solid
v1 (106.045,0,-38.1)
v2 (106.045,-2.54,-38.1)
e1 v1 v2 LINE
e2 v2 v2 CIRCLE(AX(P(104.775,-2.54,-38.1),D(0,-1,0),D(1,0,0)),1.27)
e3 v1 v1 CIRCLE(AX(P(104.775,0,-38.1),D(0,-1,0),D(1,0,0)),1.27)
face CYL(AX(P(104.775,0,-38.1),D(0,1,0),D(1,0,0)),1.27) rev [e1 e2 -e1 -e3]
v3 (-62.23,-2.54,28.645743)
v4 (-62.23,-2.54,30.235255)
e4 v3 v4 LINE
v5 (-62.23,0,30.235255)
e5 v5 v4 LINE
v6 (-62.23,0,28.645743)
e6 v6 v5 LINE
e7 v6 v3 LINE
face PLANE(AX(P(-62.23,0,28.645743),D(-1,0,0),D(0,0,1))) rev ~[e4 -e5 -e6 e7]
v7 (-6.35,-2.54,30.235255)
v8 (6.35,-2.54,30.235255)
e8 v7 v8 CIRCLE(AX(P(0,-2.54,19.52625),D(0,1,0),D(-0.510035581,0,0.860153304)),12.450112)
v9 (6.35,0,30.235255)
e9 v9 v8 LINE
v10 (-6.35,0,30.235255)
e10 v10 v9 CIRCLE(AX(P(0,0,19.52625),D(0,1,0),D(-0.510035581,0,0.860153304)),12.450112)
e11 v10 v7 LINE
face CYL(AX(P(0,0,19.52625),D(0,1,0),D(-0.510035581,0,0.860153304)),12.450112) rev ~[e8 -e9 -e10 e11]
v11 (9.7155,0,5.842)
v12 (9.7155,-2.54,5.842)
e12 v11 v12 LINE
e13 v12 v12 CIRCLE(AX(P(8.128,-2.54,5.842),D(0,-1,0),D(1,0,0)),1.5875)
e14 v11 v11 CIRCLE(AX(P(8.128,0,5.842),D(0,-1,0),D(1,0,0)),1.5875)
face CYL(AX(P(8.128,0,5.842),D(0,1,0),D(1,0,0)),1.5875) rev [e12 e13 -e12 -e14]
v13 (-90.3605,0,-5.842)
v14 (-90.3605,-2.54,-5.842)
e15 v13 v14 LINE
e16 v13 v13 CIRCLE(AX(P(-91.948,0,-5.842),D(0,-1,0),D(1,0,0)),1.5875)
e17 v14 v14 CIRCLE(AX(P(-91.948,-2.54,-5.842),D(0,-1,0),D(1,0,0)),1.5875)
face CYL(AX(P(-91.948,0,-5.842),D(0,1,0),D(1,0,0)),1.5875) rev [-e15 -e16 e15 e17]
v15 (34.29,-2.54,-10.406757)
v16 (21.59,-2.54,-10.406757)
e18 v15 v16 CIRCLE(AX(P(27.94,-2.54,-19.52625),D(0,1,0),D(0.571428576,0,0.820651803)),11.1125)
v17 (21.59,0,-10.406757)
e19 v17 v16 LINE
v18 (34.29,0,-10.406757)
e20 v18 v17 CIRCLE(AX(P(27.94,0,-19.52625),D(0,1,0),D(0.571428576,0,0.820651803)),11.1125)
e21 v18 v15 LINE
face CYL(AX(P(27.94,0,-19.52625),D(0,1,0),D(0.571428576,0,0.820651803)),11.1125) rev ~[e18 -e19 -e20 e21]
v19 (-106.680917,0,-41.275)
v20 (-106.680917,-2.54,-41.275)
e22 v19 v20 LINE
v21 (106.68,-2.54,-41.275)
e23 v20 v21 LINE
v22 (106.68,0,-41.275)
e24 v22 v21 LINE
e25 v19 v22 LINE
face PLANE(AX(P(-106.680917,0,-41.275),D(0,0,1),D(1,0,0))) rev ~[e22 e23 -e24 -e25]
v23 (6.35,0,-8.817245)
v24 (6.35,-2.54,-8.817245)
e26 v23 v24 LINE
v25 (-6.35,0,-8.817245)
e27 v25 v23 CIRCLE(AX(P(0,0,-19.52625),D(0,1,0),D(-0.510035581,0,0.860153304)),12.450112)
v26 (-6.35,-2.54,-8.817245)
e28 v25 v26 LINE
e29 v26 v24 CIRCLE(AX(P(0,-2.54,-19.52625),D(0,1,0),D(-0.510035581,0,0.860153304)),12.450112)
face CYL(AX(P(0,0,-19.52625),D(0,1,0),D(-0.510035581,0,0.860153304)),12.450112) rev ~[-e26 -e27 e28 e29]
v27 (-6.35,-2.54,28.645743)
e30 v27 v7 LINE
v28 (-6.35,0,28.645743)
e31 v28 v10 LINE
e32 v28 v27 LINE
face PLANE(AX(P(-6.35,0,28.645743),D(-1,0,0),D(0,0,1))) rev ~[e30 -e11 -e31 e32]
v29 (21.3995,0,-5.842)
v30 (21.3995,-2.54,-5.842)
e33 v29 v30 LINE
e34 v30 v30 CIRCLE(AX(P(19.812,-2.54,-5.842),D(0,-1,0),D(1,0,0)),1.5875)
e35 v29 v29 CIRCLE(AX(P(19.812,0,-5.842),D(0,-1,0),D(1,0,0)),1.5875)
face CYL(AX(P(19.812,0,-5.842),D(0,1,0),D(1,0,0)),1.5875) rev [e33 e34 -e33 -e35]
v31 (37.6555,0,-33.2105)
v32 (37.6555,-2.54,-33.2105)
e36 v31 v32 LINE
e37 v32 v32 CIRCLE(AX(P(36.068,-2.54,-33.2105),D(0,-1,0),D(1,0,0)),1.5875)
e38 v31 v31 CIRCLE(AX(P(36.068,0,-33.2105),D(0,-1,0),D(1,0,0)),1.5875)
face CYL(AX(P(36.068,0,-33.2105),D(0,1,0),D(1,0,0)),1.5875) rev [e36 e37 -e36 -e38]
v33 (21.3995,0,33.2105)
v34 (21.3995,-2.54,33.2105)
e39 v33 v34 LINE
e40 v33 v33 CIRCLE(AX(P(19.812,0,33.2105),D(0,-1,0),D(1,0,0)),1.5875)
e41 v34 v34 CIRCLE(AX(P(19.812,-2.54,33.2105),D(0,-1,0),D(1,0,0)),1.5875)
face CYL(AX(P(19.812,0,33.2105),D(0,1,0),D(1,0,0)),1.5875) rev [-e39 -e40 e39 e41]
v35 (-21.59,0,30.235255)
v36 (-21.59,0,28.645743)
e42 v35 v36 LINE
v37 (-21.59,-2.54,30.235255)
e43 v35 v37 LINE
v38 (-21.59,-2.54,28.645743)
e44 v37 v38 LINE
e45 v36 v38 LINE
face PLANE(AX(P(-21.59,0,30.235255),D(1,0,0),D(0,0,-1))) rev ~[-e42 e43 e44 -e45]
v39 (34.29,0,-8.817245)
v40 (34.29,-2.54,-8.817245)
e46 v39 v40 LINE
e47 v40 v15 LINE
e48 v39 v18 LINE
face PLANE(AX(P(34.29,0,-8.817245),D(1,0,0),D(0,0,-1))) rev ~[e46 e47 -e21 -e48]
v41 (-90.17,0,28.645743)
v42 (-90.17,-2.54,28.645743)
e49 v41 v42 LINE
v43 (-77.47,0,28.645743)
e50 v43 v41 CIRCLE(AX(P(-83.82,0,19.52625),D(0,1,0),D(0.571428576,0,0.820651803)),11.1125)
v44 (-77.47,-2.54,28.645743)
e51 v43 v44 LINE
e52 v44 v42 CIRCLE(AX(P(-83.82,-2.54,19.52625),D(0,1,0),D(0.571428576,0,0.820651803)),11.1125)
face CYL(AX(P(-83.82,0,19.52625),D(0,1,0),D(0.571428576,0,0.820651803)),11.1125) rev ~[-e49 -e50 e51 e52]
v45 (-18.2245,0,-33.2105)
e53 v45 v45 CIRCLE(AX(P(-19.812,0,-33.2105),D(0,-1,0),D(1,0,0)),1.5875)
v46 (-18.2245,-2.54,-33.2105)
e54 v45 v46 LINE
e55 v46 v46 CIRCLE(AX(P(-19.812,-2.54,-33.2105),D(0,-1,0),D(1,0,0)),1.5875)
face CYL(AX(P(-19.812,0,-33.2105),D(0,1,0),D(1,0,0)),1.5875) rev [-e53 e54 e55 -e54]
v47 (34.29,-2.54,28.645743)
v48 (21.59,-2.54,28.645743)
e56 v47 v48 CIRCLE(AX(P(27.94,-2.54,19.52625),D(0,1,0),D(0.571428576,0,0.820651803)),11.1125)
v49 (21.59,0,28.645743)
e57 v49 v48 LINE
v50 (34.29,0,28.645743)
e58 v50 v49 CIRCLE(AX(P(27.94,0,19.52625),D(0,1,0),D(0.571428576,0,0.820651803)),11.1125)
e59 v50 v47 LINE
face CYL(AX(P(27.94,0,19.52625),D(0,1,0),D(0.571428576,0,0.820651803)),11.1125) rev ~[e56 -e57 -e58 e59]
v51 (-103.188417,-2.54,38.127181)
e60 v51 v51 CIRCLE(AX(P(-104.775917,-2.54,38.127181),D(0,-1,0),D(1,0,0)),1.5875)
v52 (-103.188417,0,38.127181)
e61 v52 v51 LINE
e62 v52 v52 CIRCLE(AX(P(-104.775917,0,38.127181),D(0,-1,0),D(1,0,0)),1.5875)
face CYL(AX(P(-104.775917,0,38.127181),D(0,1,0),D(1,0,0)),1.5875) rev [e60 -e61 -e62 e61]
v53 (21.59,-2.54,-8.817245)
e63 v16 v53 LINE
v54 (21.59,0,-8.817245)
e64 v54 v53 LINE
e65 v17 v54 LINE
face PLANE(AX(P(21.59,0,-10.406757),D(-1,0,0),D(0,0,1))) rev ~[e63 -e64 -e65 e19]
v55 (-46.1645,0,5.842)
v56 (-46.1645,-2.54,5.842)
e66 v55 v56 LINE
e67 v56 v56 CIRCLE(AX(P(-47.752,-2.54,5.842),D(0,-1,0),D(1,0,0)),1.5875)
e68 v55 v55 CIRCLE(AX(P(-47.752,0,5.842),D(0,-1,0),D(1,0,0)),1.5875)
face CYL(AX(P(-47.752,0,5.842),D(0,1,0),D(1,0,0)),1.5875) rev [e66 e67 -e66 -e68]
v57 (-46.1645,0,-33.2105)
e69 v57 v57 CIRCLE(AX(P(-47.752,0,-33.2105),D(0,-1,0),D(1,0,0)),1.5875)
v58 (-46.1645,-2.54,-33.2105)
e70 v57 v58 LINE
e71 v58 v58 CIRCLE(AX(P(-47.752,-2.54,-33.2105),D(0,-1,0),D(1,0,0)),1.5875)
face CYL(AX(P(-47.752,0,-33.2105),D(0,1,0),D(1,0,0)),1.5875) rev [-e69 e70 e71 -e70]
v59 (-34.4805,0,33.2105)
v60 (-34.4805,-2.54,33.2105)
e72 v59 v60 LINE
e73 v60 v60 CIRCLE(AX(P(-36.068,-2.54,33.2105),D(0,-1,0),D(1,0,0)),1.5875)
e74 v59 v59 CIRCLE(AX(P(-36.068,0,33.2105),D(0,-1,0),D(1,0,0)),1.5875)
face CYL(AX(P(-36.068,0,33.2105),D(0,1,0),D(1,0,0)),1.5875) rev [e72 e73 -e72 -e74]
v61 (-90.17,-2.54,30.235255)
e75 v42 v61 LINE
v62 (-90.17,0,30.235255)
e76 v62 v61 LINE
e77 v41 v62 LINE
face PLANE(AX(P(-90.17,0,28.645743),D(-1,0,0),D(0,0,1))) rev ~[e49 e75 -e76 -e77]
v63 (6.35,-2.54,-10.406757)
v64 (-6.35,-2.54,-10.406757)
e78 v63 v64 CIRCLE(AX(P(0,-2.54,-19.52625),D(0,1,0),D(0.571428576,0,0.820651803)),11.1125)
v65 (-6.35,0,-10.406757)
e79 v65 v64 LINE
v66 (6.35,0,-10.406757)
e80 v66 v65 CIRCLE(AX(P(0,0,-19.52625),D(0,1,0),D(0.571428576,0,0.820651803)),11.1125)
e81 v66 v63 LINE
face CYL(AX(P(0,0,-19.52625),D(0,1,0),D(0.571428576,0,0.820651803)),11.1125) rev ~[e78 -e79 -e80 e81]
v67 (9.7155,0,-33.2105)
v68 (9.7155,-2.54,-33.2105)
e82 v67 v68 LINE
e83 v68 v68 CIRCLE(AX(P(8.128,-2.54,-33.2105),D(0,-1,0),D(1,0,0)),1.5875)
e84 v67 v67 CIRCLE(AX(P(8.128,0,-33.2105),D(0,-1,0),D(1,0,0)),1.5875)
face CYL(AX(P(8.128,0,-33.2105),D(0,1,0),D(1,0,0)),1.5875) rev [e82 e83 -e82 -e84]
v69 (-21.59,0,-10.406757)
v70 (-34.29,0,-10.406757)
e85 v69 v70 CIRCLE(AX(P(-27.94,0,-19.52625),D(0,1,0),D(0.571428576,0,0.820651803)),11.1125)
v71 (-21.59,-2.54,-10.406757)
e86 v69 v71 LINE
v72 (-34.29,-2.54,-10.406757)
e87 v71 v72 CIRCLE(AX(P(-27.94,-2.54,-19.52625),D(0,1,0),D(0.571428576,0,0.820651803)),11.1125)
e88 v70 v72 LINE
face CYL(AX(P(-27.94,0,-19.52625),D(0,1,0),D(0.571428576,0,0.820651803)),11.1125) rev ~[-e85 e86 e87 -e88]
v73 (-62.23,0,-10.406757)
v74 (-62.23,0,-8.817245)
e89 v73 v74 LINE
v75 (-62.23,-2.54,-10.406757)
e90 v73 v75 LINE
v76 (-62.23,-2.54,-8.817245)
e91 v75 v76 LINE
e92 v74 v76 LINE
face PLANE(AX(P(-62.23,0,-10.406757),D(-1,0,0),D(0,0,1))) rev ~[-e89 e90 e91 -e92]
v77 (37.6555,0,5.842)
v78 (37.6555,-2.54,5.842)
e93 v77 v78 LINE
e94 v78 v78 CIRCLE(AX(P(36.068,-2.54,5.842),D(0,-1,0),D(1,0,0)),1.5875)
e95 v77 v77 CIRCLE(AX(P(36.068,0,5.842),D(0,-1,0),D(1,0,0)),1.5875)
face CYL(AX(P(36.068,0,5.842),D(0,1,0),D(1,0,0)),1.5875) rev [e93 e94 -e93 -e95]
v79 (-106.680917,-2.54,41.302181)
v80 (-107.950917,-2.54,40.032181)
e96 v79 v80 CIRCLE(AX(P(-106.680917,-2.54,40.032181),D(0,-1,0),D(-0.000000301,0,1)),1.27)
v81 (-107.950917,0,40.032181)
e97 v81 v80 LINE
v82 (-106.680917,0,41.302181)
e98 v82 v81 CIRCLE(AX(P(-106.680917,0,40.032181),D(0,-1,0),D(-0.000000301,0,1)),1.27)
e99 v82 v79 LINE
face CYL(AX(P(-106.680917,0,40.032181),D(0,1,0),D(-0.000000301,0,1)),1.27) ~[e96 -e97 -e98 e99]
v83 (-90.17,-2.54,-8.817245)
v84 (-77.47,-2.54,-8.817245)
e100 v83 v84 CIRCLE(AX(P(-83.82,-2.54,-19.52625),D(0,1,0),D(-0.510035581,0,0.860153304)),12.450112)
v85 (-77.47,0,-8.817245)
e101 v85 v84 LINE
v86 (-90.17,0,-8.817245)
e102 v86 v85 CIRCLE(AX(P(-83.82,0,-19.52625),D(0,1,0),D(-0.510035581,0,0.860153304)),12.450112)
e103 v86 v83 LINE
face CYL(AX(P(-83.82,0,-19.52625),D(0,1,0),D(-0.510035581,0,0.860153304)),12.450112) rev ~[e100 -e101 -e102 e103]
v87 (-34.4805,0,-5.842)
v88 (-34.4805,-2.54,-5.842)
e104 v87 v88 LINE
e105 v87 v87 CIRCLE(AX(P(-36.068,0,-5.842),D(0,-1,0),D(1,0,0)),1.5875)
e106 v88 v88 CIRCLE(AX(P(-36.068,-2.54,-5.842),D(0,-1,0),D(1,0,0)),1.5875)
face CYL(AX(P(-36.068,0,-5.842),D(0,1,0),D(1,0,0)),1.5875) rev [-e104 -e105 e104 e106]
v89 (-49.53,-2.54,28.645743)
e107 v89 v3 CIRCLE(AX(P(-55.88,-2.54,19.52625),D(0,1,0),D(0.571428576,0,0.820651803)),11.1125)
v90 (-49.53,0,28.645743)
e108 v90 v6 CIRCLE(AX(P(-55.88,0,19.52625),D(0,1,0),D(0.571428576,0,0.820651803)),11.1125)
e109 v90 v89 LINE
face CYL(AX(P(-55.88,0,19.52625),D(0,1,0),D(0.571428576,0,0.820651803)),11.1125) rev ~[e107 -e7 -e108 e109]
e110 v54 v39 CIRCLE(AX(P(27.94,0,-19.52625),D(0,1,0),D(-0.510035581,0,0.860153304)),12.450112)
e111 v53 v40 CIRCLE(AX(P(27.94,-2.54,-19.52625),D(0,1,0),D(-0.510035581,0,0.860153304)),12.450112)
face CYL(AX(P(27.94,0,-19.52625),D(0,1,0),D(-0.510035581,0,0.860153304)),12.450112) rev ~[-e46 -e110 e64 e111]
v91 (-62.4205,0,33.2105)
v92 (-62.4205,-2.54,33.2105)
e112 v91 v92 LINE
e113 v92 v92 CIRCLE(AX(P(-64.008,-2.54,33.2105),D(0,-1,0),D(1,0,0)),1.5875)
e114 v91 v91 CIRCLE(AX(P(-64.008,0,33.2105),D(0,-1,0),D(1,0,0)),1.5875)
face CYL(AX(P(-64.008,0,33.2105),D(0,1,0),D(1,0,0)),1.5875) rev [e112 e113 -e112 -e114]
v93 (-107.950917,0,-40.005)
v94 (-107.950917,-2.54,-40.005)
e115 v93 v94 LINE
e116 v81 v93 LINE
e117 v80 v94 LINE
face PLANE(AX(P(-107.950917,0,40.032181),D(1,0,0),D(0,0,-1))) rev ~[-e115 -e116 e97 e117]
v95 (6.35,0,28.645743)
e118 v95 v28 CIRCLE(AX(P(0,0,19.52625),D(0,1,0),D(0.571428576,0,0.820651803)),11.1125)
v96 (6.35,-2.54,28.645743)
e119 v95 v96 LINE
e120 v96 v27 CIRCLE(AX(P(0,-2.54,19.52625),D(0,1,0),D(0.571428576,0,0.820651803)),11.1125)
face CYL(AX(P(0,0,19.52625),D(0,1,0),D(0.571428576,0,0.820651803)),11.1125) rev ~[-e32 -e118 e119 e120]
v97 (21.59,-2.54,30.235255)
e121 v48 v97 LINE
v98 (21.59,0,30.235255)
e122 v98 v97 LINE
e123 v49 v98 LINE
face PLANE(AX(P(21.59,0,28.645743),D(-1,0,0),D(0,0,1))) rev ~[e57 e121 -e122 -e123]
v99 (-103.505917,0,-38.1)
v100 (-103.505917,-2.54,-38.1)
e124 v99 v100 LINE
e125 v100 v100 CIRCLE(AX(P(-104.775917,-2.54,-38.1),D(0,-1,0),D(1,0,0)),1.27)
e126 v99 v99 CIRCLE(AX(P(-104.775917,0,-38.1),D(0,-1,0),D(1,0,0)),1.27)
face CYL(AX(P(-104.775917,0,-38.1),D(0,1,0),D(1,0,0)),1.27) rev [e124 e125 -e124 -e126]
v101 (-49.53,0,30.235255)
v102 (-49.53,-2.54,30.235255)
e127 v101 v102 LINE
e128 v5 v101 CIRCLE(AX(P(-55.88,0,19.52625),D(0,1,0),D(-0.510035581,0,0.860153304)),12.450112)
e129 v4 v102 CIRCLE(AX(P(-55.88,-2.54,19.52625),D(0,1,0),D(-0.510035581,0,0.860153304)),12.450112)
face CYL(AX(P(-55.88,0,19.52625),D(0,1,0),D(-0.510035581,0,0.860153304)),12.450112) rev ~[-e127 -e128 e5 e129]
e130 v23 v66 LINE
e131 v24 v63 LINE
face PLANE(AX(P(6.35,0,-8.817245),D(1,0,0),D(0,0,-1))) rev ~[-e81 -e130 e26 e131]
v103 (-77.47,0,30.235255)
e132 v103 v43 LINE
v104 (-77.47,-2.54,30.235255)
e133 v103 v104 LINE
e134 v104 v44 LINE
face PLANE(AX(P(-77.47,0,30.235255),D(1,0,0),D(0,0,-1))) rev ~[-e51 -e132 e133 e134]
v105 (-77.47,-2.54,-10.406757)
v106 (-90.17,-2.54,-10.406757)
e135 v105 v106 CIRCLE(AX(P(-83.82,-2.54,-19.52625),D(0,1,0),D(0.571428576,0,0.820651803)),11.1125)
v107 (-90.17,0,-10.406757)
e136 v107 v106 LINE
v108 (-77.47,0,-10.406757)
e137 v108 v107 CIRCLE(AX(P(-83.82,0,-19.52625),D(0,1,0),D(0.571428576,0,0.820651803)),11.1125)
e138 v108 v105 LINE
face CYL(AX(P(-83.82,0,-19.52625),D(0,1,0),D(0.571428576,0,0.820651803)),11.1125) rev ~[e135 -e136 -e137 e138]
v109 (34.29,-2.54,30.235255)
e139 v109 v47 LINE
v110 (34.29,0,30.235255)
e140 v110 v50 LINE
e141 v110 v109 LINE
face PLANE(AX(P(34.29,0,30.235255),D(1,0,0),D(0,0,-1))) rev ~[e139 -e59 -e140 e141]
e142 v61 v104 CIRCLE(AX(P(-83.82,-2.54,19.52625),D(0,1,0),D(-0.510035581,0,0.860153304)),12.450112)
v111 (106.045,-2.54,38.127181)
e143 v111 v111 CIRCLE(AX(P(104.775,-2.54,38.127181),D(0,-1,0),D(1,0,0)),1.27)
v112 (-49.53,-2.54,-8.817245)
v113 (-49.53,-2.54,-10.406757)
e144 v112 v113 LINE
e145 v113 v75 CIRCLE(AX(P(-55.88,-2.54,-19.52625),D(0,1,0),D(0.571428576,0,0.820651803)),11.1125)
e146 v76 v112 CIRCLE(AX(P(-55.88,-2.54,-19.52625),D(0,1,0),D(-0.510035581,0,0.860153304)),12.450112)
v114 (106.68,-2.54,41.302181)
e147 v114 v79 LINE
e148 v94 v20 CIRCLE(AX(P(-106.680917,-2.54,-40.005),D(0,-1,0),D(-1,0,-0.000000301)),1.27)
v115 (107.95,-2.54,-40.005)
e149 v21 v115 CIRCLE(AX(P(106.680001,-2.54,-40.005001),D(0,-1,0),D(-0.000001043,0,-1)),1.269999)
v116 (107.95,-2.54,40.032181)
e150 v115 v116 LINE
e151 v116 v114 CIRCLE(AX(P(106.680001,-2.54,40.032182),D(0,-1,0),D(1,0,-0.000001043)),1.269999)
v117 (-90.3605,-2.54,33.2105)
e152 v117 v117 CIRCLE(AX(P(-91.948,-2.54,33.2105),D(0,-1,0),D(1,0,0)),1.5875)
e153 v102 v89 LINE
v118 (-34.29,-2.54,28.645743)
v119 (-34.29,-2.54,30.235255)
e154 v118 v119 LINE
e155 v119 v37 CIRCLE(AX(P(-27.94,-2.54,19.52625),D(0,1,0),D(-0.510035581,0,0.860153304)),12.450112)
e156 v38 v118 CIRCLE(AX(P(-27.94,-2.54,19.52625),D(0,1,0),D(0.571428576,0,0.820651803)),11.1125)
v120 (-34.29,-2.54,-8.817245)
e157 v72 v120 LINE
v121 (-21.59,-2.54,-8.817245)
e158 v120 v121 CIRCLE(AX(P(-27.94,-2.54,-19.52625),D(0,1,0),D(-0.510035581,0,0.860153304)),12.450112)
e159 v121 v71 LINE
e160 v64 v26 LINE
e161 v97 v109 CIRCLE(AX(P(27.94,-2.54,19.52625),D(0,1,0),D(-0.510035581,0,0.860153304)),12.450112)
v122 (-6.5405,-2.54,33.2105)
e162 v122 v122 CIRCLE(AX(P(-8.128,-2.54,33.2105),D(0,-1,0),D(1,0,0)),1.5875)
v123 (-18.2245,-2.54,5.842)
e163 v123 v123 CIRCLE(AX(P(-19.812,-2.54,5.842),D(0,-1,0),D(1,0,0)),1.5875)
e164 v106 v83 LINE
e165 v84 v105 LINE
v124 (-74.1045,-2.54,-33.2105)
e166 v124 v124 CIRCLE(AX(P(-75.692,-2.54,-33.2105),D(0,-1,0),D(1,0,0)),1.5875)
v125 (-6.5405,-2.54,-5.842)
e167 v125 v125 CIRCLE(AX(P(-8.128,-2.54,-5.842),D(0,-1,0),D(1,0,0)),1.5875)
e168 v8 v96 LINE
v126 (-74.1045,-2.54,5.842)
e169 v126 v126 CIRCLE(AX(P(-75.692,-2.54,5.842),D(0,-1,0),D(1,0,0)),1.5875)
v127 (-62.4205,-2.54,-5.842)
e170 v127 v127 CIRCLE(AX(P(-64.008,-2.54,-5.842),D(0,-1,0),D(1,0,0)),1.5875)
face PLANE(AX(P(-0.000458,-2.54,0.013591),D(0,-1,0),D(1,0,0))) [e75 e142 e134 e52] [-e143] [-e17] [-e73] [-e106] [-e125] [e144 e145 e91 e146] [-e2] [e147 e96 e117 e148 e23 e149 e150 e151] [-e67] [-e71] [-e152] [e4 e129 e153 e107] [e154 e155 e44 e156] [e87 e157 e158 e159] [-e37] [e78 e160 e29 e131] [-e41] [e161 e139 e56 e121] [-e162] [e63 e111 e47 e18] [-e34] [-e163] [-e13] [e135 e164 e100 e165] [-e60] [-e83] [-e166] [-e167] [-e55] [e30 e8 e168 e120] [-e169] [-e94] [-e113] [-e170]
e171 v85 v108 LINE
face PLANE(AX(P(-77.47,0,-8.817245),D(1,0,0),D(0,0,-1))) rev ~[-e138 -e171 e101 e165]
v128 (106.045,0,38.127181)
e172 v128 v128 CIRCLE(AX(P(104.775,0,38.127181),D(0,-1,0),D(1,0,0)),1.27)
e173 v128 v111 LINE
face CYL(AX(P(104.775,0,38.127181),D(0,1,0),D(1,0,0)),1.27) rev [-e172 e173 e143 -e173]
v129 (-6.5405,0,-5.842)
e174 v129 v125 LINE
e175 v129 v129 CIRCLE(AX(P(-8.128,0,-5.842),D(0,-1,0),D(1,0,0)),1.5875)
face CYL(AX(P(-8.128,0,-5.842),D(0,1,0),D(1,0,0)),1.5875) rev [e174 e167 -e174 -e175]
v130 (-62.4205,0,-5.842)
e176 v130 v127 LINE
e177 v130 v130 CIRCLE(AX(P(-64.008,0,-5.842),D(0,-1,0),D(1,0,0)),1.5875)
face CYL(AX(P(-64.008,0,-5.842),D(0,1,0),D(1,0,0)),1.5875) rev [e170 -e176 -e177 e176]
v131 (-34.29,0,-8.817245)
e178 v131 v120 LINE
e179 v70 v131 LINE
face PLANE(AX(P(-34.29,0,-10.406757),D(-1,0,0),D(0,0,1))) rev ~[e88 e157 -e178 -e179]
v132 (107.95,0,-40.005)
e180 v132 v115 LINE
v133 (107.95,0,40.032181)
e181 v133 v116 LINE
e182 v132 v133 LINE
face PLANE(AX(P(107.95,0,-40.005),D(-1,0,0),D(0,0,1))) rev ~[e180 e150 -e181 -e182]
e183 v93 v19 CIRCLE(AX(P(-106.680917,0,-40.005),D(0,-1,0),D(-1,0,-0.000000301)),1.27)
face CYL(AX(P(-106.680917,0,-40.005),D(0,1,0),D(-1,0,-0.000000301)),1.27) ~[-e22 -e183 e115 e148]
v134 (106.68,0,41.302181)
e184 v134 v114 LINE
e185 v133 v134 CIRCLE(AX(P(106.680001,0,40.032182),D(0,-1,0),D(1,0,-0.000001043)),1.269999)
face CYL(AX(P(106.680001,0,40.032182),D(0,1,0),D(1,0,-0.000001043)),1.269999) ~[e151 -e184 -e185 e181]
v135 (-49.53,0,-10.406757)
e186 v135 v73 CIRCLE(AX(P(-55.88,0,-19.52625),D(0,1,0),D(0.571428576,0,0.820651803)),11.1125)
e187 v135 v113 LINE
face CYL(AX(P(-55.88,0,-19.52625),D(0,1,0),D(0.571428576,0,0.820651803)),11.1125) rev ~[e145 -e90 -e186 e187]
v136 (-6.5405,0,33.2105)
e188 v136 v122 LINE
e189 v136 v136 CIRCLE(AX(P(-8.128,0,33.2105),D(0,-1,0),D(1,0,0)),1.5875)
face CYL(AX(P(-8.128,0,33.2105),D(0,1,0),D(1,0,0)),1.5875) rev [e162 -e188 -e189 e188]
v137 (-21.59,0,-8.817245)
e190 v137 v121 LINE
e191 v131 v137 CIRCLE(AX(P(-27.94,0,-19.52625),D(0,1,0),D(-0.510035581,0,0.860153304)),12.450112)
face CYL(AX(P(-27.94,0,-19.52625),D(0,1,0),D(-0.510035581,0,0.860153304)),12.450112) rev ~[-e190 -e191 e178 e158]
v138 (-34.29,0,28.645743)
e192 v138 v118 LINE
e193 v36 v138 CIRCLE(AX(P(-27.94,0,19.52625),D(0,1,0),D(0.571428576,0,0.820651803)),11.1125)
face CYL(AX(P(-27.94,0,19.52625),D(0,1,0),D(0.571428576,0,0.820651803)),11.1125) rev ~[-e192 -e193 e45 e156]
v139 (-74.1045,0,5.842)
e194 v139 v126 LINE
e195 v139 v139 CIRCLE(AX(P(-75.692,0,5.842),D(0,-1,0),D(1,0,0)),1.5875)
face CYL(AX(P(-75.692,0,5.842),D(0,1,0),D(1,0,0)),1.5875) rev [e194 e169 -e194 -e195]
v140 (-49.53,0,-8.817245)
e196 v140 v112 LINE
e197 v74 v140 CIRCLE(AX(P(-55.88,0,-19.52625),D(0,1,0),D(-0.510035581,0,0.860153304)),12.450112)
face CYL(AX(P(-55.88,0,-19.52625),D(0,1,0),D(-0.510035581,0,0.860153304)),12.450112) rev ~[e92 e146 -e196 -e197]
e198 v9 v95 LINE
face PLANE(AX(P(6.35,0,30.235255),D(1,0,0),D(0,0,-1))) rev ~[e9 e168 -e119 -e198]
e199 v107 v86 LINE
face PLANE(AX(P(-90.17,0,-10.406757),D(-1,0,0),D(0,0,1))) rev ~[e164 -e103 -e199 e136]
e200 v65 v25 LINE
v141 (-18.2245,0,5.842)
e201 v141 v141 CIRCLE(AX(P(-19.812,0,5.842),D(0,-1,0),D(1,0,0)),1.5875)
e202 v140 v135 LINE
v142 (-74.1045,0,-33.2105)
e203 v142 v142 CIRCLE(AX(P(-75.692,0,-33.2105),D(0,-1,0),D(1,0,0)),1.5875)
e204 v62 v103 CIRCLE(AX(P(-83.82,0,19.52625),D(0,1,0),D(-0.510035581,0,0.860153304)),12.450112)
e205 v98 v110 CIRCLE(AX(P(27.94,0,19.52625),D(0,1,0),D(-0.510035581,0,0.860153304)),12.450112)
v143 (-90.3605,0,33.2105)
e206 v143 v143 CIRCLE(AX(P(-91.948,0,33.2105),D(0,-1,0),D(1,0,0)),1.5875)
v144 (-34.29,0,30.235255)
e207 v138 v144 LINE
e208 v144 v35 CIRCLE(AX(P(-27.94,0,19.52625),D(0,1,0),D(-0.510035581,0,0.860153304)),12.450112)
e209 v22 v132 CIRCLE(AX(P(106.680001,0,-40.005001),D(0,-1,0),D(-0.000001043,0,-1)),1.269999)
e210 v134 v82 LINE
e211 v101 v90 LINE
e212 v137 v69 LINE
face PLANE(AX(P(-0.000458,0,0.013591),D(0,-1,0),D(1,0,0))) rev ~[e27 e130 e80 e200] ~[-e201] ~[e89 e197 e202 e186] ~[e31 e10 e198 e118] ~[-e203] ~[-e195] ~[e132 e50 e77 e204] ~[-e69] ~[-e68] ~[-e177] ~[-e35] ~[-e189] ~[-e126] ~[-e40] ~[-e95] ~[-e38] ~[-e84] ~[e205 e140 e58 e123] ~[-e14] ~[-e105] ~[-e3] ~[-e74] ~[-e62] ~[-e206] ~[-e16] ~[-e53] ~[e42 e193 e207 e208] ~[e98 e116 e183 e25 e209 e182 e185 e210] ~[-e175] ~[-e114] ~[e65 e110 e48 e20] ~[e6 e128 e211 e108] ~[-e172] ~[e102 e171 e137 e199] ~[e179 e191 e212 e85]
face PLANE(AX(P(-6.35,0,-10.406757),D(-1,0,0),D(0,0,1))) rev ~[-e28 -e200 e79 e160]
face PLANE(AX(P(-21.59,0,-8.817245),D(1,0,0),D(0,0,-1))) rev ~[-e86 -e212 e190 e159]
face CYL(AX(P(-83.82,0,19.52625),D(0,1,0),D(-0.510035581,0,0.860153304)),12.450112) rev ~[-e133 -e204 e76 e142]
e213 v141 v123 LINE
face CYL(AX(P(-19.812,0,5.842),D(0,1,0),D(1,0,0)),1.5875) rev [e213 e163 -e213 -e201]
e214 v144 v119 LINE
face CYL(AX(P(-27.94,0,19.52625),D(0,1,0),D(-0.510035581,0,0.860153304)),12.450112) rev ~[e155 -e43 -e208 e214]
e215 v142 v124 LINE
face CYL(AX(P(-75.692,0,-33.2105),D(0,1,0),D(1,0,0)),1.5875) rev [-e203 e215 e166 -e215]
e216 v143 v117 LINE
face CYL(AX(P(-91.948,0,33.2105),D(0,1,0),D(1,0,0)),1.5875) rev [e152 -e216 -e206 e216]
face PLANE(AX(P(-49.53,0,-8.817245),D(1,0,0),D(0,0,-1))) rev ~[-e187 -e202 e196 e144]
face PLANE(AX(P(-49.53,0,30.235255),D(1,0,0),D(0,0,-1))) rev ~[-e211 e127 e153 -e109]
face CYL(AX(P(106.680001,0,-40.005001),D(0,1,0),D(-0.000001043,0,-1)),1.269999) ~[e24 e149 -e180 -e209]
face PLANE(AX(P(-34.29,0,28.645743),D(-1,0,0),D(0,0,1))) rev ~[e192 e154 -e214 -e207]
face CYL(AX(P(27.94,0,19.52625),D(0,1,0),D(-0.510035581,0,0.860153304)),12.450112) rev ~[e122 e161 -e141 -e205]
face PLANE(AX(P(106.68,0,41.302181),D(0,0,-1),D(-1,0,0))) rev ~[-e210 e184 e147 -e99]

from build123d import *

# Parameters (mm, degrees)
F0_R     = 1.27
F0_R_2   = 1.5875
F1_DEPTH = 2.54


with BuildPart() as f1:
    # F0 (on Front) → F1 (new body)
    with BuildSketch(Plane.XZ):
        with BuildLine():
            Line((106.68, 41.302181), (-106.680917, 41.302181))
            ThreePointArc((-106.680917, 41.302181), (-107.578942, 40.930207), (-107.950917, 40.032181))
            Line((-107.950917, 40.032181), (-107.950917, -40.005))
            ThreePointArc((-107.950917, -40.005), (-107.578942, -40.903026), (-106.680917, -41.275))
            Line((-106.680917, -41.275), (106.68, -41.275))
            ThreePointArc((106.68, -41.275), (107.578026, -40.903026), (107.95, -40.005))
            Line((107.95, -40.005), (107.95, 40.032181))
            ThreePointArc((107.95, 40.032181), (107.578026, 40.930207), (106.68, 41.302181))
        make_face()
        with Locations((-104.775917, -38.1)):
            Circle(F0_R, mode=Mode.SUBTRACT)
        with Locations((-75.692, -33.2105)):
            Circle(F0_R_2, mode=Mode.SUBTRACT)
        with Locations((-47.752, -33.2105)):
            Circle(F0_R_2, mode=Mode.SUBTRACT)
        with Locations((-19.812, -33.2105)):
            Circle(F0_R_2, mode=Mode.SUBTRACT)
        with BuildLine():
            ThreePointArc((-77.47, -10.406757), (-83.82, -30.63875), (-90.17, -10.406757))
            Line((-90.17, -10.406757), (-90.17, -8.817245))
            ThreePointArc((-90.17, -8.817245), (-83.82, -7.076138), (-77.47, -8.817245))
            Line((-77.47, -8.817245), (-77.47, -10.406757))
        make_face(mode=Mode.SUBTRACT)
        with BuildLine():
            ThreePointArc((-49.53, -10.406757), (-55.88, -30.63875), (-62.23, -10.406757))
            Line((-62.23, -10.406757), (-62.23, -8.817245))
            ThreePointArc((-62.23, -8.817245), (-55.88, -7.076138), (-49.53, -8.817245))
            Line((-49.53, -8.817245), (-49.53, -10.406757))
        make_face(mode=Mode.SUBTRACT)
        with Locations((-91.948, -5.842)):
            Circle(F0_R_2, mode=Mode.SUBTRACT)
        with Locations((-64.008, -5.842)):
            Circle(F0_R_2, mode=Mode.SUBTRACT)
        with BuildLine():
            ThreePointArc((-21.59, -10.406757), (-27.94, -30.63875), (-34.29, -10.406757))
            Line((-34.29, -10.406757), (-34.29, -8.817245))
            ThreePointArc((-34.29, -8.817245), (-27.94, -7.076138), (-21.59, -8.817245))
            Line((-21.59, -8.817245), (-21.59, -10.406757))
        make_face(mode=Mode.SUBTRACT)
        with Locations((-36.068, -5.842)):
            Circle(F0_R_2, mode=Mode.SUBTRACT)
        with Locations((-8.128, -5.842)):
            Circle(F0_R_2, mode=Mode.SUBTRACT)
        with Locations((8.128, -33.2105)):
            Circle(F0_R_2, mode=Mode.SUBTRACT)
        with Locations((36.068, -33.2105)):
            Circle(F0_R_2, mode=Mode.SUBTRACT)
        with Locations((104.775, -38.1)):
            Circle(F0_R, mode=Mode.SUBTRACT)
        with BuildLine():
            ThreePointArc((6.35, -10.406757), (0, -30.63875), (-6.35, -10.406757))
            Line((-6.35, -10.406757), (-6.35, -8.817245))
            ThreePointArc((-6.35, -8.817245), (0, -7.076138), (6.35, -8.817245))
            Line((6.35, -8.817245), (6.35, -10.406757))
        make_face(mode=Mode.SUBTRACT)
        with BuildLine():
            ThreePointArc((34.29, -10.406757), (27.94, -30.63875), (21.59, -10.406757))
            Line((21.59, -10.406757), (21.59, -8.817245))
            ThreePointArc((21.59, -8.817245), (27.94, -7.076138), (34.29, -8.817245))
            Line((34.29, -8.817245), (34.29, -10.406757))
        make_face(mode=Mode.SUBTRACT)
        with Locations((19.812, -5.842)):
            Circle(F0_R_2, mode=Mode.SUBTRACT)
        with Locations((-75.692, 5.842)):
            Circle(F0_R_2, mode=Mode.SUBTRACT)
        with BuildLine():
            ThreePointArc((-77.47, 28.645743), (-83.82, 8.41375), (-90.17, 28.645743))
            Line((-90.17, 28.645743), (-90.17, 30.235255))
            ThreePointArc((-90.17, 30.235255), (-83.82, 31.976362), (-77.47, 30.235255))
            Line((-77.47, 30.235255), (-77.47, 28.645743))
        make_face(mode=Mode.SUBTRACT)
        with BuildLine():
            ThreePointArc((-49.53, 28.645743), (-55.88, 8.41375), (-62.23, 28.645743))
            Line((-62.23, 28.645743), (-62.23, 30.235255))
            ThreePointArc((-62.23, 30.235255), (-55.88, 31.976362), (-49.53, 30.235255))
            Line((-49.53, 30.235255), (-49.53, 28.645743))
        make_face(mode=Mode.SUBTRACT)
        with Locations((-47.752, 5.842)):
            Circle(F0_R_2, mode=Mode.SUBTRACT)
        with Locations((-19.812, 5.842)):
            Circle(F0_R_2, mode=Mode.SUBTRACT)
        with BuildLine():
            ThreePointArc((-21.59, 28.645743), (-27.94, 8.41375), (-34.29, 28.645743))
            Line((-34.29, 28.645743), (-34.29, 30.235255))
            ThreePointArc((-34.29, 30.235255), (-27.94, 31.976362), (-21.59, 30.235255))
            Line((-21.59, 30.235255), (-21.59, 28.645743))
        make_face(mode=Mode.SUBTRACT)
        with Locations((-91.948, 33.2105)):
            Circle(F0_R_2, mode=Mode.SUBTRACT)
        with Locations((-104.775917, 38.127181)):
            Circle(F0_R_2, mode=Mode.SUBTRACT)
        with Locations((-64.008, 33.2105)):
            Circle(F0_R_2, mode=Mode.SUBTRACT)
        with Locations((-36.068, 33.2105)):
            Circle(F0_R_2, mode=Mode.SUBTRACT)
        with Locations((-8.128, 33.2105)):
            Circle(F0_R_2, mode=Mode.SUBTRACT)
        with Locations((8.128, 5.842)):
            Circle(F0_R_2, mode=Mode.SUBTRACT)
        with Locations((36.068, 5.842)):
            Circle(F0_R_2, mode=Mode.SUBTRACT)
        with BuildLine():
            ThreePointArc((6.35, 28.645743), (0, 8.41375), (-6.35, 28.645743))
            Line((-6.35, 28.645743), (-6.35, 30.235255))
            ThreePointArc((-6.35, 30.235255), (0, 31.976362), (6.35, 30.235255))
            Line((6.35, 30.235255), (6.35, 28.645743))
        make_face(mode=Mode.SUBTRACT)
        with BuildLine():
            ThreePointArc((34.29, 28.645743), (27.94, 8.41375), (21.59, 28.645743))
            Line((21.59, 28.645743), (21.59, 30.235255))
            ThreePointArc((21.59, 30.235255), (27.94, 31.976362), (34.29, 30.235255))
            Line((34.29, 30.235255), (34.29, 28.645743))
        make_face(mode=Mode.SUBTRACT)
        with Locations((19.812, 33.2105)):
            Circle(F0_R_2, mode=Mode.SUBTRACT)
        with Locations((104.775, 38.127181)):
            Circle(F0_R, mode=Mode.SUBTRACT)
    extrude(amount=F1_DEPTH)


solid = f1.part
